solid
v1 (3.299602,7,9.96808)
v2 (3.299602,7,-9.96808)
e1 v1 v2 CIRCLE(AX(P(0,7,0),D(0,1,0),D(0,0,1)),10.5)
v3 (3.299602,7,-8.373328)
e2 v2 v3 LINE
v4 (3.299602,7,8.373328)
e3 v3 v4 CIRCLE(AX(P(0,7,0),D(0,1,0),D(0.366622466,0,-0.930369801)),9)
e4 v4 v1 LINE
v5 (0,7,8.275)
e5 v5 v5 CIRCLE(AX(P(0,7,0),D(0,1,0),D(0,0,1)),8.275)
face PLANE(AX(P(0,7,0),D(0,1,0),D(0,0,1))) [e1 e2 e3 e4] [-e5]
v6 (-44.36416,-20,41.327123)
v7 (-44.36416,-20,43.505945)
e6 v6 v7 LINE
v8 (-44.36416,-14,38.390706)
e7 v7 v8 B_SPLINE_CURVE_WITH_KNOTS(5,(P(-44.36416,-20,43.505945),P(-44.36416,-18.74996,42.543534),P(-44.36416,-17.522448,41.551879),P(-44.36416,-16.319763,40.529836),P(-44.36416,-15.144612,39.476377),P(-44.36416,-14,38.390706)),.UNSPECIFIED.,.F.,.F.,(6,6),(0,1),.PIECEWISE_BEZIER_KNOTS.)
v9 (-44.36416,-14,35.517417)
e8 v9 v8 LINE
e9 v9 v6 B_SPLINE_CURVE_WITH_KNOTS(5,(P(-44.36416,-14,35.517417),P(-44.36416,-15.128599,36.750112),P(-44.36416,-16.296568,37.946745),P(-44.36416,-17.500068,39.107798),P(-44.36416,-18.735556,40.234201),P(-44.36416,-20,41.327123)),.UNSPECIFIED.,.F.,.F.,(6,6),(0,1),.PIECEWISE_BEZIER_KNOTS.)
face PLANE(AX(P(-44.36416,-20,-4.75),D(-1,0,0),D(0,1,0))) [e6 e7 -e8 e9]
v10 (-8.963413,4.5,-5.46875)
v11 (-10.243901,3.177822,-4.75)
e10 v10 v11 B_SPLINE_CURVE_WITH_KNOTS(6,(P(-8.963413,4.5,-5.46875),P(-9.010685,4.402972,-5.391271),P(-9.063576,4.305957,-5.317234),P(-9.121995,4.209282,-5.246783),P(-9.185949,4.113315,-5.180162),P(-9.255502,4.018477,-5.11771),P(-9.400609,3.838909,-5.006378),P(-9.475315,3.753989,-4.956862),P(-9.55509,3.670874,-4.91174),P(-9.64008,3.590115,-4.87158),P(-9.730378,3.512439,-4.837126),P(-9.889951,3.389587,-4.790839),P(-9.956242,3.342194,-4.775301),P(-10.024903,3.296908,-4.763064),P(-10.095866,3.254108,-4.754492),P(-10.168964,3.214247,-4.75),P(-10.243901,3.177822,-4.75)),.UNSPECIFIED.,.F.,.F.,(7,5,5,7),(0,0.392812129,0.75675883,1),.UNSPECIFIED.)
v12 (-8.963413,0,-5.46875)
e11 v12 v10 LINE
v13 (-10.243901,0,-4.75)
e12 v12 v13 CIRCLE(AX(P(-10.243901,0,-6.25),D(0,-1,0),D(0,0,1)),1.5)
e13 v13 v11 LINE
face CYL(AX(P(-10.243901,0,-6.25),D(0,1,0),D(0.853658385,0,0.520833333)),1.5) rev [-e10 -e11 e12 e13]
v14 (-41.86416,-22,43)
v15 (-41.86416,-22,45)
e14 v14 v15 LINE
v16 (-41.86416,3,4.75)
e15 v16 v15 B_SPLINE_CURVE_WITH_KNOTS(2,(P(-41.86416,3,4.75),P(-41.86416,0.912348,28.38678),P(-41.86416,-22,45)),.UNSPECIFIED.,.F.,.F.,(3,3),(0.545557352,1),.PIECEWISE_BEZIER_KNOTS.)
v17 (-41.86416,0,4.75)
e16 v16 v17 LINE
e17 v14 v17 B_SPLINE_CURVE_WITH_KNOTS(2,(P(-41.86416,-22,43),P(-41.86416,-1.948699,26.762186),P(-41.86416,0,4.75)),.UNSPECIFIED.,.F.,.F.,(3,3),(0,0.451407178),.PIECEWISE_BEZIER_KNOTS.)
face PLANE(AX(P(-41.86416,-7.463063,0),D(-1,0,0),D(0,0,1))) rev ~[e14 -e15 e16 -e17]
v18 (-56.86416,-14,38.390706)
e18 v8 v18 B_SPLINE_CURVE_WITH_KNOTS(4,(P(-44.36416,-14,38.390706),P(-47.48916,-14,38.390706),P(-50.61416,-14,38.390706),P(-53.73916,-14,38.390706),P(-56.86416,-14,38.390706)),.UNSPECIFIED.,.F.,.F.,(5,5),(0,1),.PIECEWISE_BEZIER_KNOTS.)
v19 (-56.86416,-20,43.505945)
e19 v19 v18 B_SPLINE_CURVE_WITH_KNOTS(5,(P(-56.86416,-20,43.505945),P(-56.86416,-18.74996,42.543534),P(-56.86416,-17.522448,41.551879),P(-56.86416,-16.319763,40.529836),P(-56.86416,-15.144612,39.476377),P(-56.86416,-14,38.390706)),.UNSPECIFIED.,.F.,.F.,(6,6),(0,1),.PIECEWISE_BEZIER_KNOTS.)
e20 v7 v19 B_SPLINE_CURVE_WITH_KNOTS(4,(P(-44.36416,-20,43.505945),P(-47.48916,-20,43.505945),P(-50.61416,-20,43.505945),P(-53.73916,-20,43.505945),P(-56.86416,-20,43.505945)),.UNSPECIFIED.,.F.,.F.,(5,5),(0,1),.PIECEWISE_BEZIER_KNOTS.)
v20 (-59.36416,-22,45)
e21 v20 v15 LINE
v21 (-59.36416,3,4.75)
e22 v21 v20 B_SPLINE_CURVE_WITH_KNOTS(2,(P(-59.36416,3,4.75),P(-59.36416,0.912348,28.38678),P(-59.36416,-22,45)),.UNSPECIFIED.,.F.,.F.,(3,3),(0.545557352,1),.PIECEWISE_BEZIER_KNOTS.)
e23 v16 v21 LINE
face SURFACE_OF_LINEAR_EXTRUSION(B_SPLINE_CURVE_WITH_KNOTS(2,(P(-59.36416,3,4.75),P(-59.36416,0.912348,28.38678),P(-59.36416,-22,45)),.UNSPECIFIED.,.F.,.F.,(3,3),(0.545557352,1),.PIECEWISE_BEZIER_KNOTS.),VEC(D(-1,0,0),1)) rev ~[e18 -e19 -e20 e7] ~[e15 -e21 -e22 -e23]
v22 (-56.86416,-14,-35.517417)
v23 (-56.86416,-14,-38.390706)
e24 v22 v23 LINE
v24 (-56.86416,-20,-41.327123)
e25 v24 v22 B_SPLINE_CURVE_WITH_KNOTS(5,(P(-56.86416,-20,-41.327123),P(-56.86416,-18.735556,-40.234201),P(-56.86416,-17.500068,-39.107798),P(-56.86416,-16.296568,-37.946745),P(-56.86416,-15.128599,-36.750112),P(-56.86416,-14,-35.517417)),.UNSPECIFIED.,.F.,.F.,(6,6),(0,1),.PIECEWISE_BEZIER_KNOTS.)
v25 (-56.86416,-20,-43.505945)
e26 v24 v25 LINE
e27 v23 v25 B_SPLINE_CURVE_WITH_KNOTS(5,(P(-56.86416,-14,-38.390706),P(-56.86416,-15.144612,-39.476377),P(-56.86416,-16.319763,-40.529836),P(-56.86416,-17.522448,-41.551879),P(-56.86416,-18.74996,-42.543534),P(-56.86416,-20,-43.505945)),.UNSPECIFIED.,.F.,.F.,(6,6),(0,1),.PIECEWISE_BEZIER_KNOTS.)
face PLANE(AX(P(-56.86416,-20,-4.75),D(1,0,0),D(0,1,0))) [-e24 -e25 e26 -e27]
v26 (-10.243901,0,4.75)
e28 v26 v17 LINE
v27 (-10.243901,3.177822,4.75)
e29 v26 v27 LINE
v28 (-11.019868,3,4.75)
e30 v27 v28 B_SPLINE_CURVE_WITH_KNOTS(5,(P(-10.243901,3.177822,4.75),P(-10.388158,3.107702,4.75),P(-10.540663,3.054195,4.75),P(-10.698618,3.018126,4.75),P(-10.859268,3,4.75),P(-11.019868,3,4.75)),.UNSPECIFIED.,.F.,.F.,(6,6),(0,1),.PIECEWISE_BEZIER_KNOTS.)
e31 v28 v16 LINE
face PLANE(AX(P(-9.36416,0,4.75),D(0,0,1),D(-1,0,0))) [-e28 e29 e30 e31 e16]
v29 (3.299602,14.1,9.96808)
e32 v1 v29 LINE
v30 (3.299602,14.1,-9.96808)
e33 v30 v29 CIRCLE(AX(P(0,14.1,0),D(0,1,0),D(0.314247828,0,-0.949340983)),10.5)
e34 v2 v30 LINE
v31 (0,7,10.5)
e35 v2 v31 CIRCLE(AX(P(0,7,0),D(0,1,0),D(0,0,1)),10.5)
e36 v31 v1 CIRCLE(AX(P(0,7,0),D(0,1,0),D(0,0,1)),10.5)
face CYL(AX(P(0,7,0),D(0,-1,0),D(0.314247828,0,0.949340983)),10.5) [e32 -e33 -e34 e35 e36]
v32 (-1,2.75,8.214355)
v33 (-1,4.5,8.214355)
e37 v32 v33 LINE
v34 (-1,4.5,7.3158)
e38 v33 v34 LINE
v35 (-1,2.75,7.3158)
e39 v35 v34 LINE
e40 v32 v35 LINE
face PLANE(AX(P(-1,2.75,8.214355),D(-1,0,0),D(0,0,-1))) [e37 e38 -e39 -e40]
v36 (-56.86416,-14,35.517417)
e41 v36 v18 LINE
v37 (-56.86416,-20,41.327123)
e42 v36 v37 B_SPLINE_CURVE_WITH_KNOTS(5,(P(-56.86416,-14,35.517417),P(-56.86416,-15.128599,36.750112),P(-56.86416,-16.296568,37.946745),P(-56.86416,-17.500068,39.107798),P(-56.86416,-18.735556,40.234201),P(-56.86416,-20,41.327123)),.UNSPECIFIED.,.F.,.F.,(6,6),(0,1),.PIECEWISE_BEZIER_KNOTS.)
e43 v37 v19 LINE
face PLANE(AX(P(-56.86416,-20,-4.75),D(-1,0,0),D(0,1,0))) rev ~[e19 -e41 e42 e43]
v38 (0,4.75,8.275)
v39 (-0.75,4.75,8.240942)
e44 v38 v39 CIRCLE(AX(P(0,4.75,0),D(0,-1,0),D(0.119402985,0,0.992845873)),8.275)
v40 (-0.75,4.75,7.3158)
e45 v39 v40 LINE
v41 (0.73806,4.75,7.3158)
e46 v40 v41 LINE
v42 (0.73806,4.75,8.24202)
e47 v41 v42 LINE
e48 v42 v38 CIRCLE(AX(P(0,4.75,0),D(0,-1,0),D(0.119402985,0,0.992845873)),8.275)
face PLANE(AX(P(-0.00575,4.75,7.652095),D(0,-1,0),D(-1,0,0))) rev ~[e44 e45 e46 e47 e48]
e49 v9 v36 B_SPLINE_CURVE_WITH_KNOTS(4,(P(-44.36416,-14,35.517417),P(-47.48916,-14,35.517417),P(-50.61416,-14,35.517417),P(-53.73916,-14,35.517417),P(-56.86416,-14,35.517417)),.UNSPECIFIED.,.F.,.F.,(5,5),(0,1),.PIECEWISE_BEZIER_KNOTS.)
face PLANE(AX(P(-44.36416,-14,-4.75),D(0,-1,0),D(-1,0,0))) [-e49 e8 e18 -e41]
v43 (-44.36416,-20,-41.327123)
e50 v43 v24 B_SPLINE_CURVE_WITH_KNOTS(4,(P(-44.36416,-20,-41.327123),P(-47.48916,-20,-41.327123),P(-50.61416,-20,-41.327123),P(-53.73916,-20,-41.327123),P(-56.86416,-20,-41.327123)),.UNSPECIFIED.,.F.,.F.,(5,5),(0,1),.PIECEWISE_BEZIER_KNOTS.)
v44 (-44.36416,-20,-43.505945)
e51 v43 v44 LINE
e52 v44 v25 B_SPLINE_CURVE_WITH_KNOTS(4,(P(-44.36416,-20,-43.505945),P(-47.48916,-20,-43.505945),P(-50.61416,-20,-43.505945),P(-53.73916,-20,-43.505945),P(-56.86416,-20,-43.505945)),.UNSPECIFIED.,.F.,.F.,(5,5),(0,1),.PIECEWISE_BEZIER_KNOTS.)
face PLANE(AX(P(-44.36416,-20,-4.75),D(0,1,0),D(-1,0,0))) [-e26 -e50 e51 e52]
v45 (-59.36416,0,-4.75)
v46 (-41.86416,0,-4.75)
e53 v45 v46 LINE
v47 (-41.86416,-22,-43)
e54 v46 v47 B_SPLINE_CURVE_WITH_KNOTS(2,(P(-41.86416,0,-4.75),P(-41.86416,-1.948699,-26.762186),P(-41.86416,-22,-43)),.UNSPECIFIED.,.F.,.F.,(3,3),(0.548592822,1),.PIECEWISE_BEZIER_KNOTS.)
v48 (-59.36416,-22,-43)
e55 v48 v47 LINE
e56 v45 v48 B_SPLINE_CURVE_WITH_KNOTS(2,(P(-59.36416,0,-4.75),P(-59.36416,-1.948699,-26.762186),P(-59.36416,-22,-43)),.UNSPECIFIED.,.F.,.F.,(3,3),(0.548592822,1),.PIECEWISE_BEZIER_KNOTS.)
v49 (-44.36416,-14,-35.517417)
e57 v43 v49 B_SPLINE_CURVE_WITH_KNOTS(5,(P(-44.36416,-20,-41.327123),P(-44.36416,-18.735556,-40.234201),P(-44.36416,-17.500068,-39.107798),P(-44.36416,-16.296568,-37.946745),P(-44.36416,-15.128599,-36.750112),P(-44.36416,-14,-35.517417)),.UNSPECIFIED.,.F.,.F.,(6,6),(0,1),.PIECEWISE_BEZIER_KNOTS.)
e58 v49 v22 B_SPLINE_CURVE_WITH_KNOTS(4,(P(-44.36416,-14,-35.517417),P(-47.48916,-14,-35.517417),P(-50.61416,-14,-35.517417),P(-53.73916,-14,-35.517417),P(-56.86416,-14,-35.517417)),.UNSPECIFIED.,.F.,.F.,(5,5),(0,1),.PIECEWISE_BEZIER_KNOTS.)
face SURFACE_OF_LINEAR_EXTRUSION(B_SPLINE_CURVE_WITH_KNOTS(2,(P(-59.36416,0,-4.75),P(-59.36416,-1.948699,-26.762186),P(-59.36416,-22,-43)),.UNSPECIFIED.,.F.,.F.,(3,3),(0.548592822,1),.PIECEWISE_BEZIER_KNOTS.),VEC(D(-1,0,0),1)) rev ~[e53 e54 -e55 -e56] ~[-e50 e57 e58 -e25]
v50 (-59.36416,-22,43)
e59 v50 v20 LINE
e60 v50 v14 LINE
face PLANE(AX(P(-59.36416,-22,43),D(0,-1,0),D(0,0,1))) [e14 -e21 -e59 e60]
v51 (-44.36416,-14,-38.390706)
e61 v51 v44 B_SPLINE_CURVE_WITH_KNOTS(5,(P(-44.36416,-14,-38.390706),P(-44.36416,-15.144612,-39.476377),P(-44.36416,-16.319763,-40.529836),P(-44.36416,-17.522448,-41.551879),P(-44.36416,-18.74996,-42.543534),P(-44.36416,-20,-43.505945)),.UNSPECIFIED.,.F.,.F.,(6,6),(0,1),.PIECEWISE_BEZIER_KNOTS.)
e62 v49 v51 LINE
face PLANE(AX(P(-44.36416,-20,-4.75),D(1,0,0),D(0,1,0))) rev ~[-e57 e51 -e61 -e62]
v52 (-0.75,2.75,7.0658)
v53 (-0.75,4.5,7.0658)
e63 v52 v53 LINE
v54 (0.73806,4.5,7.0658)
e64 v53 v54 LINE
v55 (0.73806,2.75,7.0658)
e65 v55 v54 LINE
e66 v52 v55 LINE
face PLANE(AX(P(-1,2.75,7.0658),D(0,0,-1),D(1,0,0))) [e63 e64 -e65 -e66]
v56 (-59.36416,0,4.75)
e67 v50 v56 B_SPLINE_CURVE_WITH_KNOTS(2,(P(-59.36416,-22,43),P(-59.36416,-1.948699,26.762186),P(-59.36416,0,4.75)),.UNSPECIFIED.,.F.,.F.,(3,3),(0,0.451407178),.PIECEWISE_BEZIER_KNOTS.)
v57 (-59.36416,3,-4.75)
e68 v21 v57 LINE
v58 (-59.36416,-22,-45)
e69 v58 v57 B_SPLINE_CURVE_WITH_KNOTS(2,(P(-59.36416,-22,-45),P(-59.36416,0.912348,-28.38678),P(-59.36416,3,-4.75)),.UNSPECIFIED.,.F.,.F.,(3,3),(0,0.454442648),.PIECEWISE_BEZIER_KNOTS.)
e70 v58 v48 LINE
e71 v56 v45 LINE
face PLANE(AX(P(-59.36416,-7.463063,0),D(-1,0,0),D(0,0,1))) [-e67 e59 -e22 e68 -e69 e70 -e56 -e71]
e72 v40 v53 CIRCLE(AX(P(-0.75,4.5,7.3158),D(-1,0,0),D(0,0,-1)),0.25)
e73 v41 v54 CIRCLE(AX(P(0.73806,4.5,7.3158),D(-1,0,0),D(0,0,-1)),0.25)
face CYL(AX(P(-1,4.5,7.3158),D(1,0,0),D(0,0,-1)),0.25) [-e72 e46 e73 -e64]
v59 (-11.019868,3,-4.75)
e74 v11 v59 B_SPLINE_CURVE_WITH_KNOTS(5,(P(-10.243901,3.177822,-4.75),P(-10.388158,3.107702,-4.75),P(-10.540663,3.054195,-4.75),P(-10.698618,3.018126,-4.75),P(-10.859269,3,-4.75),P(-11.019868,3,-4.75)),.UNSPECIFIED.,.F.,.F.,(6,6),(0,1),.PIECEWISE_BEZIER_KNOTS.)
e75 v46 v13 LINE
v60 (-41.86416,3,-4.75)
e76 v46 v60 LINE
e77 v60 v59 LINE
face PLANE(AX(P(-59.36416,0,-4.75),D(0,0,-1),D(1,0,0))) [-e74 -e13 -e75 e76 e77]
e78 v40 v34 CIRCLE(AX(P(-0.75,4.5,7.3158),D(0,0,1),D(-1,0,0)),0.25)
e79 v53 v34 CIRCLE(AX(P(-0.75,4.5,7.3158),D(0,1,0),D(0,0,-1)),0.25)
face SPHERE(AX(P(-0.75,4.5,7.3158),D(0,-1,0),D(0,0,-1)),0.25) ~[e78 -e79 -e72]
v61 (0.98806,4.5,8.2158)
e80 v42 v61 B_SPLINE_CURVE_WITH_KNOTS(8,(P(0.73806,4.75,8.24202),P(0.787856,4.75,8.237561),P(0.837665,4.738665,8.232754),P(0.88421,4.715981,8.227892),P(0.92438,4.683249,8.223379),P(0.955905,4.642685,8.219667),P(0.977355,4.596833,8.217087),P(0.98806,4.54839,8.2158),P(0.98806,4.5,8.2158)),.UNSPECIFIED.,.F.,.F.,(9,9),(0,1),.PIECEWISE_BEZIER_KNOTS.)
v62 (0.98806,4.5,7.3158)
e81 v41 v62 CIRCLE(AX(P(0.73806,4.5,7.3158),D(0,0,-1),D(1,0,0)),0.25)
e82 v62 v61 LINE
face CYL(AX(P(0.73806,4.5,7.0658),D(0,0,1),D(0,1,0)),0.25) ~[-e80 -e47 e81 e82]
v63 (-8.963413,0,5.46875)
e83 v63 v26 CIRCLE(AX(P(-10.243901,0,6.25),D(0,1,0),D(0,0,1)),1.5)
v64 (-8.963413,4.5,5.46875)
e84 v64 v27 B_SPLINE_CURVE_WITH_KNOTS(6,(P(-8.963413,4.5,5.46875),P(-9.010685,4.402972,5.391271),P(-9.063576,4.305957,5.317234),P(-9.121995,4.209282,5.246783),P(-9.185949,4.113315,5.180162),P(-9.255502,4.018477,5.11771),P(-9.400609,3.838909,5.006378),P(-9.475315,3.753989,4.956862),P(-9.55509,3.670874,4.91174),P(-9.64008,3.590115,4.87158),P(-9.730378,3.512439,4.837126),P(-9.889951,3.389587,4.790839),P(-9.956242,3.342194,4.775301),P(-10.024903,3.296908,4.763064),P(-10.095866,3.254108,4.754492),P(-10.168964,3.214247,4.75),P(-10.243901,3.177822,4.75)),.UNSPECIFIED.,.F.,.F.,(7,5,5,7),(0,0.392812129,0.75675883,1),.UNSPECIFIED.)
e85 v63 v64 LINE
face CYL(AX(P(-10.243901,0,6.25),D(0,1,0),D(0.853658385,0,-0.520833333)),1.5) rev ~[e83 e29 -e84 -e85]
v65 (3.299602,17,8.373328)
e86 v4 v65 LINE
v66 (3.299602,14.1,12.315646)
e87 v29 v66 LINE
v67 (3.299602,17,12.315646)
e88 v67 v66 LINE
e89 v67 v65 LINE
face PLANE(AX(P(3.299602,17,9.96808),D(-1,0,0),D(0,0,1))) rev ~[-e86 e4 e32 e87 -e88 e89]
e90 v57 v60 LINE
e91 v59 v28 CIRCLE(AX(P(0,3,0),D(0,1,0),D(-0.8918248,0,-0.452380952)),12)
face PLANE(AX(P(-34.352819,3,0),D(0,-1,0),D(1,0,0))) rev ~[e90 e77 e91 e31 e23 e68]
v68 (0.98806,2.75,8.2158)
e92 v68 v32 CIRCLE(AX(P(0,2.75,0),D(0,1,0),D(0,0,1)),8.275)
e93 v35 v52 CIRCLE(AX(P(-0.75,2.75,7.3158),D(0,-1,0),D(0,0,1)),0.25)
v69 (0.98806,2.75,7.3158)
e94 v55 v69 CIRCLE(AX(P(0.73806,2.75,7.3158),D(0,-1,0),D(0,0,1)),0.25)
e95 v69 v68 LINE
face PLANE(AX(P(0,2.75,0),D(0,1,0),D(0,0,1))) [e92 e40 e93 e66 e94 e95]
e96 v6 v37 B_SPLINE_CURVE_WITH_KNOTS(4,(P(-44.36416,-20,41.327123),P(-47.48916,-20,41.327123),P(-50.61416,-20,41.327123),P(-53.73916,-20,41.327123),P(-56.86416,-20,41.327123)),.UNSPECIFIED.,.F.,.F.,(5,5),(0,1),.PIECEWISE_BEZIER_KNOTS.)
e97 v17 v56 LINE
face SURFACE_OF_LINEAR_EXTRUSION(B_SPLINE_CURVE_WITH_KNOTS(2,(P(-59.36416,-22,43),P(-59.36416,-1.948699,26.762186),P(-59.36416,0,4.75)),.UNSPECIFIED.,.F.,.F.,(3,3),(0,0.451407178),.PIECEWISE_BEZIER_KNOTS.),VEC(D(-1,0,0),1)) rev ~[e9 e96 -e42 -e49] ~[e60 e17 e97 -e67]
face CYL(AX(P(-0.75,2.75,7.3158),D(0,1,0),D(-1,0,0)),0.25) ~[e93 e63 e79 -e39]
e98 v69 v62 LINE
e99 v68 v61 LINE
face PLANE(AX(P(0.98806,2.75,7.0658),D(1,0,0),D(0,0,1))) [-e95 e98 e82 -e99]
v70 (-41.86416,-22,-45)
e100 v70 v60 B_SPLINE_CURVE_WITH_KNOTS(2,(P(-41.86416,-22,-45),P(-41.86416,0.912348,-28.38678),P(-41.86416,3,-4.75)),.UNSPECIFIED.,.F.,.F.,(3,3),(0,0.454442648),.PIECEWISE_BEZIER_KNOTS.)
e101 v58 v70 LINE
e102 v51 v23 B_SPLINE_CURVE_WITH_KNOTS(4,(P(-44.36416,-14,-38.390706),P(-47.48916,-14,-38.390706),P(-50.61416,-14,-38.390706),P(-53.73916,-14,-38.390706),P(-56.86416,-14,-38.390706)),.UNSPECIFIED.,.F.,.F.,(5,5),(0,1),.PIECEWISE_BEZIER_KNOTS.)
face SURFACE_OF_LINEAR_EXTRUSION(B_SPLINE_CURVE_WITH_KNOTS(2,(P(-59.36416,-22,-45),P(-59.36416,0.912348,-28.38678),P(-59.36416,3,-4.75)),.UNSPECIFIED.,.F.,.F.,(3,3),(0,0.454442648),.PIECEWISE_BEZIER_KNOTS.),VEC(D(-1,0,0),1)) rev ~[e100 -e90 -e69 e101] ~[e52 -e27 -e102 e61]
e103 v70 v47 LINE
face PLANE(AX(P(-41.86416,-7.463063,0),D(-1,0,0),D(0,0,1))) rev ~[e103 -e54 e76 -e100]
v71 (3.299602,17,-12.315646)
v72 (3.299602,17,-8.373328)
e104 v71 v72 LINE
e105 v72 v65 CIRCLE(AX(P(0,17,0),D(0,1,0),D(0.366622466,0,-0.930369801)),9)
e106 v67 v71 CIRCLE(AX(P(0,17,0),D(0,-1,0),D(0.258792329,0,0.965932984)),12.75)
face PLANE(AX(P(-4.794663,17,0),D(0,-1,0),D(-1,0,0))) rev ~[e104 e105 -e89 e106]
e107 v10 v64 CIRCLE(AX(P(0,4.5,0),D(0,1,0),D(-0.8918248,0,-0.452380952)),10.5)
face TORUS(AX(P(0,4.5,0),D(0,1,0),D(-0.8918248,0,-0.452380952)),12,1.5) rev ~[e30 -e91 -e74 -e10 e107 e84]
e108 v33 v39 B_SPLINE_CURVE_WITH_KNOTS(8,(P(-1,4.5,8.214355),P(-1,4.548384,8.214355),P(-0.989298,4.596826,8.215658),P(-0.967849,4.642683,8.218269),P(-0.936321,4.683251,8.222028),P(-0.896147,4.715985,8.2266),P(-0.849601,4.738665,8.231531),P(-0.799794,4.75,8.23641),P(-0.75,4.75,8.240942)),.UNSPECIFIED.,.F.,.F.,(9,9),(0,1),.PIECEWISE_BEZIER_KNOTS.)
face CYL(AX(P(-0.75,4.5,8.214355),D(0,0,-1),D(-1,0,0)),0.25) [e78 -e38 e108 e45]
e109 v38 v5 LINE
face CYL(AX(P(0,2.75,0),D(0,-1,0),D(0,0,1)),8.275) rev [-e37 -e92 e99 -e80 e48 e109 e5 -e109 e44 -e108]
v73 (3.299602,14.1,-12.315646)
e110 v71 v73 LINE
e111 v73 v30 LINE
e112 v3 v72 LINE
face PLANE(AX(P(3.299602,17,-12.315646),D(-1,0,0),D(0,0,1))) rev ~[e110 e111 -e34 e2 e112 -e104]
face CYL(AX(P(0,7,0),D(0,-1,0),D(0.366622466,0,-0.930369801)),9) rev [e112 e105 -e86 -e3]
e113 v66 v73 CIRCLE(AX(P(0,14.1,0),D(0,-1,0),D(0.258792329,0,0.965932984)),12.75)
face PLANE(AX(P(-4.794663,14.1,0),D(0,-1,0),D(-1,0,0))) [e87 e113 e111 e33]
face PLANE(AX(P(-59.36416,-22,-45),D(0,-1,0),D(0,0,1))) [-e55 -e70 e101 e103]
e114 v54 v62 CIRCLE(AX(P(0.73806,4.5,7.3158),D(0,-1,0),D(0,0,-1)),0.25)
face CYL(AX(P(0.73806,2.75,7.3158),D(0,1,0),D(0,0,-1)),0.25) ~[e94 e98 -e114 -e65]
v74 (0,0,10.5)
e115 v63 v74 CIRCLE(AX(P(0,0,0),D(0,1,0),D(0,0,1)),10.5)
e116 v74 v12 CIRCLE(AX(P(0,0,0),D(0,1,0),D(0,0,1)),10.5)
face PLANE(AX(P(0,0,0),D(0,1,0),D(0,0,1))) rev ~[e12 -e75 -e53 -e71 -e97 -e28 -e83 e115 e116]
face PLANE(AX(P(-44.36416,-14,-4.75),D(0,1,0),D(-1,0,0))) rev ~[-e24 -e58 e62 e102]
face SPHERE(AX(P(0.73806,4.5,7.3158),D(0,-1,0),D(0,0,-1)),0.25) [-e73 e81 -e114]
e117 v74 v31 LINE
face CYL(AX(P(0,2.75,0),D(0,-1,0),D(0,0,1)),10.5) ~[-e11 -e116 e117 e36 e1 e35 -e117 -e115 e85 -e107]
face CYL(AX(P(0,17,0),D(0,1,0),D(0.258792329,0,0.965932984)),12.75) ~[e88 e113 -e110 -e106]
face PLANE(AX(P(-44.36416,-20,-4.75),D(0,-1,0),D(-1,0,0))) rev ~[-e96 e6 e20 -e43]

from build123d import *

# Parameters (mm, degrees)
F_0_1MM_FIT_FOR_POT_R   = 10.5
BOSS_EXTRUDE1_DEPTH     = 2.75
SKETCH4_R               = 10.5
SKETCH4_R_2             = 8.275
BOSS_EXTRUDE2_DEPTH     = 4.25
BOSS_EXTRUDE3_DEPTH     = 2
FILLET1_R               = 0.25
BOSS_EXTRUDE6_DEPTH     = 10
BOSS_EXTRUDE7_DEPTH     = 2.9
BOSS_EXTRUDE8_DEPTH     = 3
FILLET2_R               = 1.5
BOSS_EXTRUDE9_DEPTH     = 17.5
SKETCH11_W              = 12.5
SKETCH11_H              = 6
CUT_EXTRUDE1_DEPTH      = 81.518110176
CUT_EXTRUDE1_DEPTH_BACK = 81.518110176


with BuildPart() as part:
    # 0.1mm fit for pot → Boss-Extrude1 (new body)
    with BuildSketch(Plane(origin=(0, 0, 0), x_dir=(1, 0, 0), z_dir=(0, 1, 0))):
        with Locations(Location((0, 0, 0), (0, 0, 270))):
            Circle(F_0_1MM_FIT_FOR_POT_R)
    extrude(amount=BOSS_EXTRUDE1_DEPTH)

    # Sketch4 → Boss-Extrude2 (add)
    with BuildSketch(Plane(origin=(0, 2.75, 0), x_dir=(1, 0, 0), z_dir=(0, 1, 0))):
        with Locations(Location((0, 0, 0), (0, 0, 270))):
            Circle(SKETCH4_R)
        with Locations(Location((0, 0, 0), (0, 0, 270))):
            Circle(SKETCH4_R_2, mode=Mode.SUBTRACT)
    extrude(amount=BOSS_EXTRUDE2_DEPTH)

    # Sketch5 → Boss-Extrude3 (add)
    with BuildSketch(Plane(origin=(0, 2.75, 0), x_dir=(1, 0, 0), z_dir=(0, 1, 0))):
        with BuildLine():
            Line((-1, -8.214354813), (-1, -7.065799598))
            Line((-1, -7.065799598), (0.988059701, -7.065799598))
            Line((0.988059701, -7.065799598), (0.988059701, -8.215799598))
            ThreePointArc((0.988059701, -8.215799598), (-0.006013695, -8.274997815), (-1, -8.214354813))
        make_face()
    extrude(amount=BOSS_EXTRUDE3_DEPTH)

    # Fillet1
    fillet1_edges = [part.edges().sort_by_distance(p)[0] for p in [
        (0.988059701, 3.75, 7.065799598),
        (-1, 3.75, 7.065799598),
        (-0.005970149, 4.75, 7.065799598),
        (-1, 4.75, 7.640077205),
        (0.988059701, 4.75, 7.640799598),
    ]]
    fillet(fillet1_edges, radius=FILLET1_R)

    # Sketch7 → Boss-Extrude6 (add)
    with BuildSketch(Plane(origin=(0, 7, 0), x_dir=(1, 0, 0), z_dir=(0, 1, 0))):
        with BuildLine():
            Line((3.299602194, 9.968080325), (3.299602194, 8.373328213))
            ThreePointArc((3.299602194, 8.373328213), (-9, 0), (3.299602194, -8.373328213))
            Line((3.299602194, -8.373328213), (3.299602194, -9.968080325))
            ThreePointArc((3.299602194, -9.968080325), (-10.5, 0), (3.299602194, 9.968080325))
        make_face()
    extrude(amount=BOSS_EXTRUDE6_DEPTH)

    # Sketch8 → Boss-Extrude7 (add)
    with BuildSketch(Plane(origin=(0, 17, 0), x_dir=(1, 0, 0), z_dir=(0, 1, 0))):
        with BuildLine():
            Line((3.299602194, 12.315645552), (3.299602194, 9.968080325))
            ThreePointArc((3.299602194, 9.968080325), (-10.5, 0), (3.299602194, -9.968080325))
            Line((3.299602194, -9.968080325), (3.299602194, -12.315645552))
            ThreePointArc((3.299602194, -12.315645552), (-12.75, 0), (3.299602194, 12.315645552))
        make_face()
    extrude(amount=-BOSS_EXTRUDE7_DEPTH)

    # Sketch9 → Boss-Extrude8 (add)
    with BuildSketch(Plane.XZ):
        with BuildLine():
            Line((-9.3641604, 4.75), (-59.3641604, 4.75))
            Line((-59.3641604, 4.75), (-59.3641604, -4.75))
            Line((-59.3641604, -4.75), (-9.3641604, -4.75))
            ThreePointArc((-9.3641604, -4.75), (-10.5, 0), (-9.3641604, 4.75))
        make_face()
    extrude(amount=-BOSS_EXTRUDE8_DEPTH)

    # Fillet2
    fillet2_edges = [part.edges().sort_by_distance(p)[0] for p in [
        (-10.5, 3, 0),
        (-9.3641604, 1.5, 4.75),
        (-9.3641604, 1.5, -4.75),
    ]]
    fillet(fillet2_edges, radius=FILLET2_R)

    # Sketch10 → Boss-Extrude9 (add)
    with BuildSketch(Plane.ZY.offset(59.3641604)):
        with BuildLine():
            Line((-45, -22), (-43, -22))
            add(Edge.make_bspline(
                [(-4.75, 0), (-26.762186457, -1.948698647), (-43, -22)],
                knots=[0.548592822, 0.548592822, 0.548592822, 1, 1, 1], degree=2))
            Line((-4.75, 0), (4.75, 0))
            add(Edge.make_bspline(
                [(43, -22), (26.762186461, -1.948698647), (4.75, 0)],
                knots=[0, 0, 0, 0.451407178, 0.451407178, 0.451407178], degree=2))
            Line((43, -22), (45, -22))
            add(Edge.make_bspline(
                [(4.75, 3), (28.386779804, 0.912348176), (45, -22)],
                knots=[0.545557352, 0.545557352, 0.545557352, 1, 1, 1], degree=2))
            Line((4.75, 3), (-4.75, 3))
            add(Edge.make_bspline(
                [(-45, -22), (-28.386779803, 0.912348176), (-4.75, 3)],
                knots=[0, 0, 0, 0.454442648, 0.454442648, 0.454442648], degree=2))
        make_face()
    extrude(amount=-BOSS_EXTRUDE9_DEPTH)

    # Sketch11 → Cut-Extrude1 (cut, two sides)
    with BuildSketch(Plane(origin=(0, 0, -4.75), x_dir=(-1, 0, 0), z_dir=(0, 0, -1))) as cut_extrude1_sk:
        with Locations((50.6141604, -17)):
            Rectangle(SKETCH11_W, SKETCH11_H)
    extrude(amount=CUT_EXTRUDE1_DEPTH, mode=Mode.SUBTRACT)
    extrude(cut_extrude1_sk.sketch, amount=-CUT_EXTRUDE1_DEPTH_BACK, mode=Mode.SUBTRACT)


solid = part.part
